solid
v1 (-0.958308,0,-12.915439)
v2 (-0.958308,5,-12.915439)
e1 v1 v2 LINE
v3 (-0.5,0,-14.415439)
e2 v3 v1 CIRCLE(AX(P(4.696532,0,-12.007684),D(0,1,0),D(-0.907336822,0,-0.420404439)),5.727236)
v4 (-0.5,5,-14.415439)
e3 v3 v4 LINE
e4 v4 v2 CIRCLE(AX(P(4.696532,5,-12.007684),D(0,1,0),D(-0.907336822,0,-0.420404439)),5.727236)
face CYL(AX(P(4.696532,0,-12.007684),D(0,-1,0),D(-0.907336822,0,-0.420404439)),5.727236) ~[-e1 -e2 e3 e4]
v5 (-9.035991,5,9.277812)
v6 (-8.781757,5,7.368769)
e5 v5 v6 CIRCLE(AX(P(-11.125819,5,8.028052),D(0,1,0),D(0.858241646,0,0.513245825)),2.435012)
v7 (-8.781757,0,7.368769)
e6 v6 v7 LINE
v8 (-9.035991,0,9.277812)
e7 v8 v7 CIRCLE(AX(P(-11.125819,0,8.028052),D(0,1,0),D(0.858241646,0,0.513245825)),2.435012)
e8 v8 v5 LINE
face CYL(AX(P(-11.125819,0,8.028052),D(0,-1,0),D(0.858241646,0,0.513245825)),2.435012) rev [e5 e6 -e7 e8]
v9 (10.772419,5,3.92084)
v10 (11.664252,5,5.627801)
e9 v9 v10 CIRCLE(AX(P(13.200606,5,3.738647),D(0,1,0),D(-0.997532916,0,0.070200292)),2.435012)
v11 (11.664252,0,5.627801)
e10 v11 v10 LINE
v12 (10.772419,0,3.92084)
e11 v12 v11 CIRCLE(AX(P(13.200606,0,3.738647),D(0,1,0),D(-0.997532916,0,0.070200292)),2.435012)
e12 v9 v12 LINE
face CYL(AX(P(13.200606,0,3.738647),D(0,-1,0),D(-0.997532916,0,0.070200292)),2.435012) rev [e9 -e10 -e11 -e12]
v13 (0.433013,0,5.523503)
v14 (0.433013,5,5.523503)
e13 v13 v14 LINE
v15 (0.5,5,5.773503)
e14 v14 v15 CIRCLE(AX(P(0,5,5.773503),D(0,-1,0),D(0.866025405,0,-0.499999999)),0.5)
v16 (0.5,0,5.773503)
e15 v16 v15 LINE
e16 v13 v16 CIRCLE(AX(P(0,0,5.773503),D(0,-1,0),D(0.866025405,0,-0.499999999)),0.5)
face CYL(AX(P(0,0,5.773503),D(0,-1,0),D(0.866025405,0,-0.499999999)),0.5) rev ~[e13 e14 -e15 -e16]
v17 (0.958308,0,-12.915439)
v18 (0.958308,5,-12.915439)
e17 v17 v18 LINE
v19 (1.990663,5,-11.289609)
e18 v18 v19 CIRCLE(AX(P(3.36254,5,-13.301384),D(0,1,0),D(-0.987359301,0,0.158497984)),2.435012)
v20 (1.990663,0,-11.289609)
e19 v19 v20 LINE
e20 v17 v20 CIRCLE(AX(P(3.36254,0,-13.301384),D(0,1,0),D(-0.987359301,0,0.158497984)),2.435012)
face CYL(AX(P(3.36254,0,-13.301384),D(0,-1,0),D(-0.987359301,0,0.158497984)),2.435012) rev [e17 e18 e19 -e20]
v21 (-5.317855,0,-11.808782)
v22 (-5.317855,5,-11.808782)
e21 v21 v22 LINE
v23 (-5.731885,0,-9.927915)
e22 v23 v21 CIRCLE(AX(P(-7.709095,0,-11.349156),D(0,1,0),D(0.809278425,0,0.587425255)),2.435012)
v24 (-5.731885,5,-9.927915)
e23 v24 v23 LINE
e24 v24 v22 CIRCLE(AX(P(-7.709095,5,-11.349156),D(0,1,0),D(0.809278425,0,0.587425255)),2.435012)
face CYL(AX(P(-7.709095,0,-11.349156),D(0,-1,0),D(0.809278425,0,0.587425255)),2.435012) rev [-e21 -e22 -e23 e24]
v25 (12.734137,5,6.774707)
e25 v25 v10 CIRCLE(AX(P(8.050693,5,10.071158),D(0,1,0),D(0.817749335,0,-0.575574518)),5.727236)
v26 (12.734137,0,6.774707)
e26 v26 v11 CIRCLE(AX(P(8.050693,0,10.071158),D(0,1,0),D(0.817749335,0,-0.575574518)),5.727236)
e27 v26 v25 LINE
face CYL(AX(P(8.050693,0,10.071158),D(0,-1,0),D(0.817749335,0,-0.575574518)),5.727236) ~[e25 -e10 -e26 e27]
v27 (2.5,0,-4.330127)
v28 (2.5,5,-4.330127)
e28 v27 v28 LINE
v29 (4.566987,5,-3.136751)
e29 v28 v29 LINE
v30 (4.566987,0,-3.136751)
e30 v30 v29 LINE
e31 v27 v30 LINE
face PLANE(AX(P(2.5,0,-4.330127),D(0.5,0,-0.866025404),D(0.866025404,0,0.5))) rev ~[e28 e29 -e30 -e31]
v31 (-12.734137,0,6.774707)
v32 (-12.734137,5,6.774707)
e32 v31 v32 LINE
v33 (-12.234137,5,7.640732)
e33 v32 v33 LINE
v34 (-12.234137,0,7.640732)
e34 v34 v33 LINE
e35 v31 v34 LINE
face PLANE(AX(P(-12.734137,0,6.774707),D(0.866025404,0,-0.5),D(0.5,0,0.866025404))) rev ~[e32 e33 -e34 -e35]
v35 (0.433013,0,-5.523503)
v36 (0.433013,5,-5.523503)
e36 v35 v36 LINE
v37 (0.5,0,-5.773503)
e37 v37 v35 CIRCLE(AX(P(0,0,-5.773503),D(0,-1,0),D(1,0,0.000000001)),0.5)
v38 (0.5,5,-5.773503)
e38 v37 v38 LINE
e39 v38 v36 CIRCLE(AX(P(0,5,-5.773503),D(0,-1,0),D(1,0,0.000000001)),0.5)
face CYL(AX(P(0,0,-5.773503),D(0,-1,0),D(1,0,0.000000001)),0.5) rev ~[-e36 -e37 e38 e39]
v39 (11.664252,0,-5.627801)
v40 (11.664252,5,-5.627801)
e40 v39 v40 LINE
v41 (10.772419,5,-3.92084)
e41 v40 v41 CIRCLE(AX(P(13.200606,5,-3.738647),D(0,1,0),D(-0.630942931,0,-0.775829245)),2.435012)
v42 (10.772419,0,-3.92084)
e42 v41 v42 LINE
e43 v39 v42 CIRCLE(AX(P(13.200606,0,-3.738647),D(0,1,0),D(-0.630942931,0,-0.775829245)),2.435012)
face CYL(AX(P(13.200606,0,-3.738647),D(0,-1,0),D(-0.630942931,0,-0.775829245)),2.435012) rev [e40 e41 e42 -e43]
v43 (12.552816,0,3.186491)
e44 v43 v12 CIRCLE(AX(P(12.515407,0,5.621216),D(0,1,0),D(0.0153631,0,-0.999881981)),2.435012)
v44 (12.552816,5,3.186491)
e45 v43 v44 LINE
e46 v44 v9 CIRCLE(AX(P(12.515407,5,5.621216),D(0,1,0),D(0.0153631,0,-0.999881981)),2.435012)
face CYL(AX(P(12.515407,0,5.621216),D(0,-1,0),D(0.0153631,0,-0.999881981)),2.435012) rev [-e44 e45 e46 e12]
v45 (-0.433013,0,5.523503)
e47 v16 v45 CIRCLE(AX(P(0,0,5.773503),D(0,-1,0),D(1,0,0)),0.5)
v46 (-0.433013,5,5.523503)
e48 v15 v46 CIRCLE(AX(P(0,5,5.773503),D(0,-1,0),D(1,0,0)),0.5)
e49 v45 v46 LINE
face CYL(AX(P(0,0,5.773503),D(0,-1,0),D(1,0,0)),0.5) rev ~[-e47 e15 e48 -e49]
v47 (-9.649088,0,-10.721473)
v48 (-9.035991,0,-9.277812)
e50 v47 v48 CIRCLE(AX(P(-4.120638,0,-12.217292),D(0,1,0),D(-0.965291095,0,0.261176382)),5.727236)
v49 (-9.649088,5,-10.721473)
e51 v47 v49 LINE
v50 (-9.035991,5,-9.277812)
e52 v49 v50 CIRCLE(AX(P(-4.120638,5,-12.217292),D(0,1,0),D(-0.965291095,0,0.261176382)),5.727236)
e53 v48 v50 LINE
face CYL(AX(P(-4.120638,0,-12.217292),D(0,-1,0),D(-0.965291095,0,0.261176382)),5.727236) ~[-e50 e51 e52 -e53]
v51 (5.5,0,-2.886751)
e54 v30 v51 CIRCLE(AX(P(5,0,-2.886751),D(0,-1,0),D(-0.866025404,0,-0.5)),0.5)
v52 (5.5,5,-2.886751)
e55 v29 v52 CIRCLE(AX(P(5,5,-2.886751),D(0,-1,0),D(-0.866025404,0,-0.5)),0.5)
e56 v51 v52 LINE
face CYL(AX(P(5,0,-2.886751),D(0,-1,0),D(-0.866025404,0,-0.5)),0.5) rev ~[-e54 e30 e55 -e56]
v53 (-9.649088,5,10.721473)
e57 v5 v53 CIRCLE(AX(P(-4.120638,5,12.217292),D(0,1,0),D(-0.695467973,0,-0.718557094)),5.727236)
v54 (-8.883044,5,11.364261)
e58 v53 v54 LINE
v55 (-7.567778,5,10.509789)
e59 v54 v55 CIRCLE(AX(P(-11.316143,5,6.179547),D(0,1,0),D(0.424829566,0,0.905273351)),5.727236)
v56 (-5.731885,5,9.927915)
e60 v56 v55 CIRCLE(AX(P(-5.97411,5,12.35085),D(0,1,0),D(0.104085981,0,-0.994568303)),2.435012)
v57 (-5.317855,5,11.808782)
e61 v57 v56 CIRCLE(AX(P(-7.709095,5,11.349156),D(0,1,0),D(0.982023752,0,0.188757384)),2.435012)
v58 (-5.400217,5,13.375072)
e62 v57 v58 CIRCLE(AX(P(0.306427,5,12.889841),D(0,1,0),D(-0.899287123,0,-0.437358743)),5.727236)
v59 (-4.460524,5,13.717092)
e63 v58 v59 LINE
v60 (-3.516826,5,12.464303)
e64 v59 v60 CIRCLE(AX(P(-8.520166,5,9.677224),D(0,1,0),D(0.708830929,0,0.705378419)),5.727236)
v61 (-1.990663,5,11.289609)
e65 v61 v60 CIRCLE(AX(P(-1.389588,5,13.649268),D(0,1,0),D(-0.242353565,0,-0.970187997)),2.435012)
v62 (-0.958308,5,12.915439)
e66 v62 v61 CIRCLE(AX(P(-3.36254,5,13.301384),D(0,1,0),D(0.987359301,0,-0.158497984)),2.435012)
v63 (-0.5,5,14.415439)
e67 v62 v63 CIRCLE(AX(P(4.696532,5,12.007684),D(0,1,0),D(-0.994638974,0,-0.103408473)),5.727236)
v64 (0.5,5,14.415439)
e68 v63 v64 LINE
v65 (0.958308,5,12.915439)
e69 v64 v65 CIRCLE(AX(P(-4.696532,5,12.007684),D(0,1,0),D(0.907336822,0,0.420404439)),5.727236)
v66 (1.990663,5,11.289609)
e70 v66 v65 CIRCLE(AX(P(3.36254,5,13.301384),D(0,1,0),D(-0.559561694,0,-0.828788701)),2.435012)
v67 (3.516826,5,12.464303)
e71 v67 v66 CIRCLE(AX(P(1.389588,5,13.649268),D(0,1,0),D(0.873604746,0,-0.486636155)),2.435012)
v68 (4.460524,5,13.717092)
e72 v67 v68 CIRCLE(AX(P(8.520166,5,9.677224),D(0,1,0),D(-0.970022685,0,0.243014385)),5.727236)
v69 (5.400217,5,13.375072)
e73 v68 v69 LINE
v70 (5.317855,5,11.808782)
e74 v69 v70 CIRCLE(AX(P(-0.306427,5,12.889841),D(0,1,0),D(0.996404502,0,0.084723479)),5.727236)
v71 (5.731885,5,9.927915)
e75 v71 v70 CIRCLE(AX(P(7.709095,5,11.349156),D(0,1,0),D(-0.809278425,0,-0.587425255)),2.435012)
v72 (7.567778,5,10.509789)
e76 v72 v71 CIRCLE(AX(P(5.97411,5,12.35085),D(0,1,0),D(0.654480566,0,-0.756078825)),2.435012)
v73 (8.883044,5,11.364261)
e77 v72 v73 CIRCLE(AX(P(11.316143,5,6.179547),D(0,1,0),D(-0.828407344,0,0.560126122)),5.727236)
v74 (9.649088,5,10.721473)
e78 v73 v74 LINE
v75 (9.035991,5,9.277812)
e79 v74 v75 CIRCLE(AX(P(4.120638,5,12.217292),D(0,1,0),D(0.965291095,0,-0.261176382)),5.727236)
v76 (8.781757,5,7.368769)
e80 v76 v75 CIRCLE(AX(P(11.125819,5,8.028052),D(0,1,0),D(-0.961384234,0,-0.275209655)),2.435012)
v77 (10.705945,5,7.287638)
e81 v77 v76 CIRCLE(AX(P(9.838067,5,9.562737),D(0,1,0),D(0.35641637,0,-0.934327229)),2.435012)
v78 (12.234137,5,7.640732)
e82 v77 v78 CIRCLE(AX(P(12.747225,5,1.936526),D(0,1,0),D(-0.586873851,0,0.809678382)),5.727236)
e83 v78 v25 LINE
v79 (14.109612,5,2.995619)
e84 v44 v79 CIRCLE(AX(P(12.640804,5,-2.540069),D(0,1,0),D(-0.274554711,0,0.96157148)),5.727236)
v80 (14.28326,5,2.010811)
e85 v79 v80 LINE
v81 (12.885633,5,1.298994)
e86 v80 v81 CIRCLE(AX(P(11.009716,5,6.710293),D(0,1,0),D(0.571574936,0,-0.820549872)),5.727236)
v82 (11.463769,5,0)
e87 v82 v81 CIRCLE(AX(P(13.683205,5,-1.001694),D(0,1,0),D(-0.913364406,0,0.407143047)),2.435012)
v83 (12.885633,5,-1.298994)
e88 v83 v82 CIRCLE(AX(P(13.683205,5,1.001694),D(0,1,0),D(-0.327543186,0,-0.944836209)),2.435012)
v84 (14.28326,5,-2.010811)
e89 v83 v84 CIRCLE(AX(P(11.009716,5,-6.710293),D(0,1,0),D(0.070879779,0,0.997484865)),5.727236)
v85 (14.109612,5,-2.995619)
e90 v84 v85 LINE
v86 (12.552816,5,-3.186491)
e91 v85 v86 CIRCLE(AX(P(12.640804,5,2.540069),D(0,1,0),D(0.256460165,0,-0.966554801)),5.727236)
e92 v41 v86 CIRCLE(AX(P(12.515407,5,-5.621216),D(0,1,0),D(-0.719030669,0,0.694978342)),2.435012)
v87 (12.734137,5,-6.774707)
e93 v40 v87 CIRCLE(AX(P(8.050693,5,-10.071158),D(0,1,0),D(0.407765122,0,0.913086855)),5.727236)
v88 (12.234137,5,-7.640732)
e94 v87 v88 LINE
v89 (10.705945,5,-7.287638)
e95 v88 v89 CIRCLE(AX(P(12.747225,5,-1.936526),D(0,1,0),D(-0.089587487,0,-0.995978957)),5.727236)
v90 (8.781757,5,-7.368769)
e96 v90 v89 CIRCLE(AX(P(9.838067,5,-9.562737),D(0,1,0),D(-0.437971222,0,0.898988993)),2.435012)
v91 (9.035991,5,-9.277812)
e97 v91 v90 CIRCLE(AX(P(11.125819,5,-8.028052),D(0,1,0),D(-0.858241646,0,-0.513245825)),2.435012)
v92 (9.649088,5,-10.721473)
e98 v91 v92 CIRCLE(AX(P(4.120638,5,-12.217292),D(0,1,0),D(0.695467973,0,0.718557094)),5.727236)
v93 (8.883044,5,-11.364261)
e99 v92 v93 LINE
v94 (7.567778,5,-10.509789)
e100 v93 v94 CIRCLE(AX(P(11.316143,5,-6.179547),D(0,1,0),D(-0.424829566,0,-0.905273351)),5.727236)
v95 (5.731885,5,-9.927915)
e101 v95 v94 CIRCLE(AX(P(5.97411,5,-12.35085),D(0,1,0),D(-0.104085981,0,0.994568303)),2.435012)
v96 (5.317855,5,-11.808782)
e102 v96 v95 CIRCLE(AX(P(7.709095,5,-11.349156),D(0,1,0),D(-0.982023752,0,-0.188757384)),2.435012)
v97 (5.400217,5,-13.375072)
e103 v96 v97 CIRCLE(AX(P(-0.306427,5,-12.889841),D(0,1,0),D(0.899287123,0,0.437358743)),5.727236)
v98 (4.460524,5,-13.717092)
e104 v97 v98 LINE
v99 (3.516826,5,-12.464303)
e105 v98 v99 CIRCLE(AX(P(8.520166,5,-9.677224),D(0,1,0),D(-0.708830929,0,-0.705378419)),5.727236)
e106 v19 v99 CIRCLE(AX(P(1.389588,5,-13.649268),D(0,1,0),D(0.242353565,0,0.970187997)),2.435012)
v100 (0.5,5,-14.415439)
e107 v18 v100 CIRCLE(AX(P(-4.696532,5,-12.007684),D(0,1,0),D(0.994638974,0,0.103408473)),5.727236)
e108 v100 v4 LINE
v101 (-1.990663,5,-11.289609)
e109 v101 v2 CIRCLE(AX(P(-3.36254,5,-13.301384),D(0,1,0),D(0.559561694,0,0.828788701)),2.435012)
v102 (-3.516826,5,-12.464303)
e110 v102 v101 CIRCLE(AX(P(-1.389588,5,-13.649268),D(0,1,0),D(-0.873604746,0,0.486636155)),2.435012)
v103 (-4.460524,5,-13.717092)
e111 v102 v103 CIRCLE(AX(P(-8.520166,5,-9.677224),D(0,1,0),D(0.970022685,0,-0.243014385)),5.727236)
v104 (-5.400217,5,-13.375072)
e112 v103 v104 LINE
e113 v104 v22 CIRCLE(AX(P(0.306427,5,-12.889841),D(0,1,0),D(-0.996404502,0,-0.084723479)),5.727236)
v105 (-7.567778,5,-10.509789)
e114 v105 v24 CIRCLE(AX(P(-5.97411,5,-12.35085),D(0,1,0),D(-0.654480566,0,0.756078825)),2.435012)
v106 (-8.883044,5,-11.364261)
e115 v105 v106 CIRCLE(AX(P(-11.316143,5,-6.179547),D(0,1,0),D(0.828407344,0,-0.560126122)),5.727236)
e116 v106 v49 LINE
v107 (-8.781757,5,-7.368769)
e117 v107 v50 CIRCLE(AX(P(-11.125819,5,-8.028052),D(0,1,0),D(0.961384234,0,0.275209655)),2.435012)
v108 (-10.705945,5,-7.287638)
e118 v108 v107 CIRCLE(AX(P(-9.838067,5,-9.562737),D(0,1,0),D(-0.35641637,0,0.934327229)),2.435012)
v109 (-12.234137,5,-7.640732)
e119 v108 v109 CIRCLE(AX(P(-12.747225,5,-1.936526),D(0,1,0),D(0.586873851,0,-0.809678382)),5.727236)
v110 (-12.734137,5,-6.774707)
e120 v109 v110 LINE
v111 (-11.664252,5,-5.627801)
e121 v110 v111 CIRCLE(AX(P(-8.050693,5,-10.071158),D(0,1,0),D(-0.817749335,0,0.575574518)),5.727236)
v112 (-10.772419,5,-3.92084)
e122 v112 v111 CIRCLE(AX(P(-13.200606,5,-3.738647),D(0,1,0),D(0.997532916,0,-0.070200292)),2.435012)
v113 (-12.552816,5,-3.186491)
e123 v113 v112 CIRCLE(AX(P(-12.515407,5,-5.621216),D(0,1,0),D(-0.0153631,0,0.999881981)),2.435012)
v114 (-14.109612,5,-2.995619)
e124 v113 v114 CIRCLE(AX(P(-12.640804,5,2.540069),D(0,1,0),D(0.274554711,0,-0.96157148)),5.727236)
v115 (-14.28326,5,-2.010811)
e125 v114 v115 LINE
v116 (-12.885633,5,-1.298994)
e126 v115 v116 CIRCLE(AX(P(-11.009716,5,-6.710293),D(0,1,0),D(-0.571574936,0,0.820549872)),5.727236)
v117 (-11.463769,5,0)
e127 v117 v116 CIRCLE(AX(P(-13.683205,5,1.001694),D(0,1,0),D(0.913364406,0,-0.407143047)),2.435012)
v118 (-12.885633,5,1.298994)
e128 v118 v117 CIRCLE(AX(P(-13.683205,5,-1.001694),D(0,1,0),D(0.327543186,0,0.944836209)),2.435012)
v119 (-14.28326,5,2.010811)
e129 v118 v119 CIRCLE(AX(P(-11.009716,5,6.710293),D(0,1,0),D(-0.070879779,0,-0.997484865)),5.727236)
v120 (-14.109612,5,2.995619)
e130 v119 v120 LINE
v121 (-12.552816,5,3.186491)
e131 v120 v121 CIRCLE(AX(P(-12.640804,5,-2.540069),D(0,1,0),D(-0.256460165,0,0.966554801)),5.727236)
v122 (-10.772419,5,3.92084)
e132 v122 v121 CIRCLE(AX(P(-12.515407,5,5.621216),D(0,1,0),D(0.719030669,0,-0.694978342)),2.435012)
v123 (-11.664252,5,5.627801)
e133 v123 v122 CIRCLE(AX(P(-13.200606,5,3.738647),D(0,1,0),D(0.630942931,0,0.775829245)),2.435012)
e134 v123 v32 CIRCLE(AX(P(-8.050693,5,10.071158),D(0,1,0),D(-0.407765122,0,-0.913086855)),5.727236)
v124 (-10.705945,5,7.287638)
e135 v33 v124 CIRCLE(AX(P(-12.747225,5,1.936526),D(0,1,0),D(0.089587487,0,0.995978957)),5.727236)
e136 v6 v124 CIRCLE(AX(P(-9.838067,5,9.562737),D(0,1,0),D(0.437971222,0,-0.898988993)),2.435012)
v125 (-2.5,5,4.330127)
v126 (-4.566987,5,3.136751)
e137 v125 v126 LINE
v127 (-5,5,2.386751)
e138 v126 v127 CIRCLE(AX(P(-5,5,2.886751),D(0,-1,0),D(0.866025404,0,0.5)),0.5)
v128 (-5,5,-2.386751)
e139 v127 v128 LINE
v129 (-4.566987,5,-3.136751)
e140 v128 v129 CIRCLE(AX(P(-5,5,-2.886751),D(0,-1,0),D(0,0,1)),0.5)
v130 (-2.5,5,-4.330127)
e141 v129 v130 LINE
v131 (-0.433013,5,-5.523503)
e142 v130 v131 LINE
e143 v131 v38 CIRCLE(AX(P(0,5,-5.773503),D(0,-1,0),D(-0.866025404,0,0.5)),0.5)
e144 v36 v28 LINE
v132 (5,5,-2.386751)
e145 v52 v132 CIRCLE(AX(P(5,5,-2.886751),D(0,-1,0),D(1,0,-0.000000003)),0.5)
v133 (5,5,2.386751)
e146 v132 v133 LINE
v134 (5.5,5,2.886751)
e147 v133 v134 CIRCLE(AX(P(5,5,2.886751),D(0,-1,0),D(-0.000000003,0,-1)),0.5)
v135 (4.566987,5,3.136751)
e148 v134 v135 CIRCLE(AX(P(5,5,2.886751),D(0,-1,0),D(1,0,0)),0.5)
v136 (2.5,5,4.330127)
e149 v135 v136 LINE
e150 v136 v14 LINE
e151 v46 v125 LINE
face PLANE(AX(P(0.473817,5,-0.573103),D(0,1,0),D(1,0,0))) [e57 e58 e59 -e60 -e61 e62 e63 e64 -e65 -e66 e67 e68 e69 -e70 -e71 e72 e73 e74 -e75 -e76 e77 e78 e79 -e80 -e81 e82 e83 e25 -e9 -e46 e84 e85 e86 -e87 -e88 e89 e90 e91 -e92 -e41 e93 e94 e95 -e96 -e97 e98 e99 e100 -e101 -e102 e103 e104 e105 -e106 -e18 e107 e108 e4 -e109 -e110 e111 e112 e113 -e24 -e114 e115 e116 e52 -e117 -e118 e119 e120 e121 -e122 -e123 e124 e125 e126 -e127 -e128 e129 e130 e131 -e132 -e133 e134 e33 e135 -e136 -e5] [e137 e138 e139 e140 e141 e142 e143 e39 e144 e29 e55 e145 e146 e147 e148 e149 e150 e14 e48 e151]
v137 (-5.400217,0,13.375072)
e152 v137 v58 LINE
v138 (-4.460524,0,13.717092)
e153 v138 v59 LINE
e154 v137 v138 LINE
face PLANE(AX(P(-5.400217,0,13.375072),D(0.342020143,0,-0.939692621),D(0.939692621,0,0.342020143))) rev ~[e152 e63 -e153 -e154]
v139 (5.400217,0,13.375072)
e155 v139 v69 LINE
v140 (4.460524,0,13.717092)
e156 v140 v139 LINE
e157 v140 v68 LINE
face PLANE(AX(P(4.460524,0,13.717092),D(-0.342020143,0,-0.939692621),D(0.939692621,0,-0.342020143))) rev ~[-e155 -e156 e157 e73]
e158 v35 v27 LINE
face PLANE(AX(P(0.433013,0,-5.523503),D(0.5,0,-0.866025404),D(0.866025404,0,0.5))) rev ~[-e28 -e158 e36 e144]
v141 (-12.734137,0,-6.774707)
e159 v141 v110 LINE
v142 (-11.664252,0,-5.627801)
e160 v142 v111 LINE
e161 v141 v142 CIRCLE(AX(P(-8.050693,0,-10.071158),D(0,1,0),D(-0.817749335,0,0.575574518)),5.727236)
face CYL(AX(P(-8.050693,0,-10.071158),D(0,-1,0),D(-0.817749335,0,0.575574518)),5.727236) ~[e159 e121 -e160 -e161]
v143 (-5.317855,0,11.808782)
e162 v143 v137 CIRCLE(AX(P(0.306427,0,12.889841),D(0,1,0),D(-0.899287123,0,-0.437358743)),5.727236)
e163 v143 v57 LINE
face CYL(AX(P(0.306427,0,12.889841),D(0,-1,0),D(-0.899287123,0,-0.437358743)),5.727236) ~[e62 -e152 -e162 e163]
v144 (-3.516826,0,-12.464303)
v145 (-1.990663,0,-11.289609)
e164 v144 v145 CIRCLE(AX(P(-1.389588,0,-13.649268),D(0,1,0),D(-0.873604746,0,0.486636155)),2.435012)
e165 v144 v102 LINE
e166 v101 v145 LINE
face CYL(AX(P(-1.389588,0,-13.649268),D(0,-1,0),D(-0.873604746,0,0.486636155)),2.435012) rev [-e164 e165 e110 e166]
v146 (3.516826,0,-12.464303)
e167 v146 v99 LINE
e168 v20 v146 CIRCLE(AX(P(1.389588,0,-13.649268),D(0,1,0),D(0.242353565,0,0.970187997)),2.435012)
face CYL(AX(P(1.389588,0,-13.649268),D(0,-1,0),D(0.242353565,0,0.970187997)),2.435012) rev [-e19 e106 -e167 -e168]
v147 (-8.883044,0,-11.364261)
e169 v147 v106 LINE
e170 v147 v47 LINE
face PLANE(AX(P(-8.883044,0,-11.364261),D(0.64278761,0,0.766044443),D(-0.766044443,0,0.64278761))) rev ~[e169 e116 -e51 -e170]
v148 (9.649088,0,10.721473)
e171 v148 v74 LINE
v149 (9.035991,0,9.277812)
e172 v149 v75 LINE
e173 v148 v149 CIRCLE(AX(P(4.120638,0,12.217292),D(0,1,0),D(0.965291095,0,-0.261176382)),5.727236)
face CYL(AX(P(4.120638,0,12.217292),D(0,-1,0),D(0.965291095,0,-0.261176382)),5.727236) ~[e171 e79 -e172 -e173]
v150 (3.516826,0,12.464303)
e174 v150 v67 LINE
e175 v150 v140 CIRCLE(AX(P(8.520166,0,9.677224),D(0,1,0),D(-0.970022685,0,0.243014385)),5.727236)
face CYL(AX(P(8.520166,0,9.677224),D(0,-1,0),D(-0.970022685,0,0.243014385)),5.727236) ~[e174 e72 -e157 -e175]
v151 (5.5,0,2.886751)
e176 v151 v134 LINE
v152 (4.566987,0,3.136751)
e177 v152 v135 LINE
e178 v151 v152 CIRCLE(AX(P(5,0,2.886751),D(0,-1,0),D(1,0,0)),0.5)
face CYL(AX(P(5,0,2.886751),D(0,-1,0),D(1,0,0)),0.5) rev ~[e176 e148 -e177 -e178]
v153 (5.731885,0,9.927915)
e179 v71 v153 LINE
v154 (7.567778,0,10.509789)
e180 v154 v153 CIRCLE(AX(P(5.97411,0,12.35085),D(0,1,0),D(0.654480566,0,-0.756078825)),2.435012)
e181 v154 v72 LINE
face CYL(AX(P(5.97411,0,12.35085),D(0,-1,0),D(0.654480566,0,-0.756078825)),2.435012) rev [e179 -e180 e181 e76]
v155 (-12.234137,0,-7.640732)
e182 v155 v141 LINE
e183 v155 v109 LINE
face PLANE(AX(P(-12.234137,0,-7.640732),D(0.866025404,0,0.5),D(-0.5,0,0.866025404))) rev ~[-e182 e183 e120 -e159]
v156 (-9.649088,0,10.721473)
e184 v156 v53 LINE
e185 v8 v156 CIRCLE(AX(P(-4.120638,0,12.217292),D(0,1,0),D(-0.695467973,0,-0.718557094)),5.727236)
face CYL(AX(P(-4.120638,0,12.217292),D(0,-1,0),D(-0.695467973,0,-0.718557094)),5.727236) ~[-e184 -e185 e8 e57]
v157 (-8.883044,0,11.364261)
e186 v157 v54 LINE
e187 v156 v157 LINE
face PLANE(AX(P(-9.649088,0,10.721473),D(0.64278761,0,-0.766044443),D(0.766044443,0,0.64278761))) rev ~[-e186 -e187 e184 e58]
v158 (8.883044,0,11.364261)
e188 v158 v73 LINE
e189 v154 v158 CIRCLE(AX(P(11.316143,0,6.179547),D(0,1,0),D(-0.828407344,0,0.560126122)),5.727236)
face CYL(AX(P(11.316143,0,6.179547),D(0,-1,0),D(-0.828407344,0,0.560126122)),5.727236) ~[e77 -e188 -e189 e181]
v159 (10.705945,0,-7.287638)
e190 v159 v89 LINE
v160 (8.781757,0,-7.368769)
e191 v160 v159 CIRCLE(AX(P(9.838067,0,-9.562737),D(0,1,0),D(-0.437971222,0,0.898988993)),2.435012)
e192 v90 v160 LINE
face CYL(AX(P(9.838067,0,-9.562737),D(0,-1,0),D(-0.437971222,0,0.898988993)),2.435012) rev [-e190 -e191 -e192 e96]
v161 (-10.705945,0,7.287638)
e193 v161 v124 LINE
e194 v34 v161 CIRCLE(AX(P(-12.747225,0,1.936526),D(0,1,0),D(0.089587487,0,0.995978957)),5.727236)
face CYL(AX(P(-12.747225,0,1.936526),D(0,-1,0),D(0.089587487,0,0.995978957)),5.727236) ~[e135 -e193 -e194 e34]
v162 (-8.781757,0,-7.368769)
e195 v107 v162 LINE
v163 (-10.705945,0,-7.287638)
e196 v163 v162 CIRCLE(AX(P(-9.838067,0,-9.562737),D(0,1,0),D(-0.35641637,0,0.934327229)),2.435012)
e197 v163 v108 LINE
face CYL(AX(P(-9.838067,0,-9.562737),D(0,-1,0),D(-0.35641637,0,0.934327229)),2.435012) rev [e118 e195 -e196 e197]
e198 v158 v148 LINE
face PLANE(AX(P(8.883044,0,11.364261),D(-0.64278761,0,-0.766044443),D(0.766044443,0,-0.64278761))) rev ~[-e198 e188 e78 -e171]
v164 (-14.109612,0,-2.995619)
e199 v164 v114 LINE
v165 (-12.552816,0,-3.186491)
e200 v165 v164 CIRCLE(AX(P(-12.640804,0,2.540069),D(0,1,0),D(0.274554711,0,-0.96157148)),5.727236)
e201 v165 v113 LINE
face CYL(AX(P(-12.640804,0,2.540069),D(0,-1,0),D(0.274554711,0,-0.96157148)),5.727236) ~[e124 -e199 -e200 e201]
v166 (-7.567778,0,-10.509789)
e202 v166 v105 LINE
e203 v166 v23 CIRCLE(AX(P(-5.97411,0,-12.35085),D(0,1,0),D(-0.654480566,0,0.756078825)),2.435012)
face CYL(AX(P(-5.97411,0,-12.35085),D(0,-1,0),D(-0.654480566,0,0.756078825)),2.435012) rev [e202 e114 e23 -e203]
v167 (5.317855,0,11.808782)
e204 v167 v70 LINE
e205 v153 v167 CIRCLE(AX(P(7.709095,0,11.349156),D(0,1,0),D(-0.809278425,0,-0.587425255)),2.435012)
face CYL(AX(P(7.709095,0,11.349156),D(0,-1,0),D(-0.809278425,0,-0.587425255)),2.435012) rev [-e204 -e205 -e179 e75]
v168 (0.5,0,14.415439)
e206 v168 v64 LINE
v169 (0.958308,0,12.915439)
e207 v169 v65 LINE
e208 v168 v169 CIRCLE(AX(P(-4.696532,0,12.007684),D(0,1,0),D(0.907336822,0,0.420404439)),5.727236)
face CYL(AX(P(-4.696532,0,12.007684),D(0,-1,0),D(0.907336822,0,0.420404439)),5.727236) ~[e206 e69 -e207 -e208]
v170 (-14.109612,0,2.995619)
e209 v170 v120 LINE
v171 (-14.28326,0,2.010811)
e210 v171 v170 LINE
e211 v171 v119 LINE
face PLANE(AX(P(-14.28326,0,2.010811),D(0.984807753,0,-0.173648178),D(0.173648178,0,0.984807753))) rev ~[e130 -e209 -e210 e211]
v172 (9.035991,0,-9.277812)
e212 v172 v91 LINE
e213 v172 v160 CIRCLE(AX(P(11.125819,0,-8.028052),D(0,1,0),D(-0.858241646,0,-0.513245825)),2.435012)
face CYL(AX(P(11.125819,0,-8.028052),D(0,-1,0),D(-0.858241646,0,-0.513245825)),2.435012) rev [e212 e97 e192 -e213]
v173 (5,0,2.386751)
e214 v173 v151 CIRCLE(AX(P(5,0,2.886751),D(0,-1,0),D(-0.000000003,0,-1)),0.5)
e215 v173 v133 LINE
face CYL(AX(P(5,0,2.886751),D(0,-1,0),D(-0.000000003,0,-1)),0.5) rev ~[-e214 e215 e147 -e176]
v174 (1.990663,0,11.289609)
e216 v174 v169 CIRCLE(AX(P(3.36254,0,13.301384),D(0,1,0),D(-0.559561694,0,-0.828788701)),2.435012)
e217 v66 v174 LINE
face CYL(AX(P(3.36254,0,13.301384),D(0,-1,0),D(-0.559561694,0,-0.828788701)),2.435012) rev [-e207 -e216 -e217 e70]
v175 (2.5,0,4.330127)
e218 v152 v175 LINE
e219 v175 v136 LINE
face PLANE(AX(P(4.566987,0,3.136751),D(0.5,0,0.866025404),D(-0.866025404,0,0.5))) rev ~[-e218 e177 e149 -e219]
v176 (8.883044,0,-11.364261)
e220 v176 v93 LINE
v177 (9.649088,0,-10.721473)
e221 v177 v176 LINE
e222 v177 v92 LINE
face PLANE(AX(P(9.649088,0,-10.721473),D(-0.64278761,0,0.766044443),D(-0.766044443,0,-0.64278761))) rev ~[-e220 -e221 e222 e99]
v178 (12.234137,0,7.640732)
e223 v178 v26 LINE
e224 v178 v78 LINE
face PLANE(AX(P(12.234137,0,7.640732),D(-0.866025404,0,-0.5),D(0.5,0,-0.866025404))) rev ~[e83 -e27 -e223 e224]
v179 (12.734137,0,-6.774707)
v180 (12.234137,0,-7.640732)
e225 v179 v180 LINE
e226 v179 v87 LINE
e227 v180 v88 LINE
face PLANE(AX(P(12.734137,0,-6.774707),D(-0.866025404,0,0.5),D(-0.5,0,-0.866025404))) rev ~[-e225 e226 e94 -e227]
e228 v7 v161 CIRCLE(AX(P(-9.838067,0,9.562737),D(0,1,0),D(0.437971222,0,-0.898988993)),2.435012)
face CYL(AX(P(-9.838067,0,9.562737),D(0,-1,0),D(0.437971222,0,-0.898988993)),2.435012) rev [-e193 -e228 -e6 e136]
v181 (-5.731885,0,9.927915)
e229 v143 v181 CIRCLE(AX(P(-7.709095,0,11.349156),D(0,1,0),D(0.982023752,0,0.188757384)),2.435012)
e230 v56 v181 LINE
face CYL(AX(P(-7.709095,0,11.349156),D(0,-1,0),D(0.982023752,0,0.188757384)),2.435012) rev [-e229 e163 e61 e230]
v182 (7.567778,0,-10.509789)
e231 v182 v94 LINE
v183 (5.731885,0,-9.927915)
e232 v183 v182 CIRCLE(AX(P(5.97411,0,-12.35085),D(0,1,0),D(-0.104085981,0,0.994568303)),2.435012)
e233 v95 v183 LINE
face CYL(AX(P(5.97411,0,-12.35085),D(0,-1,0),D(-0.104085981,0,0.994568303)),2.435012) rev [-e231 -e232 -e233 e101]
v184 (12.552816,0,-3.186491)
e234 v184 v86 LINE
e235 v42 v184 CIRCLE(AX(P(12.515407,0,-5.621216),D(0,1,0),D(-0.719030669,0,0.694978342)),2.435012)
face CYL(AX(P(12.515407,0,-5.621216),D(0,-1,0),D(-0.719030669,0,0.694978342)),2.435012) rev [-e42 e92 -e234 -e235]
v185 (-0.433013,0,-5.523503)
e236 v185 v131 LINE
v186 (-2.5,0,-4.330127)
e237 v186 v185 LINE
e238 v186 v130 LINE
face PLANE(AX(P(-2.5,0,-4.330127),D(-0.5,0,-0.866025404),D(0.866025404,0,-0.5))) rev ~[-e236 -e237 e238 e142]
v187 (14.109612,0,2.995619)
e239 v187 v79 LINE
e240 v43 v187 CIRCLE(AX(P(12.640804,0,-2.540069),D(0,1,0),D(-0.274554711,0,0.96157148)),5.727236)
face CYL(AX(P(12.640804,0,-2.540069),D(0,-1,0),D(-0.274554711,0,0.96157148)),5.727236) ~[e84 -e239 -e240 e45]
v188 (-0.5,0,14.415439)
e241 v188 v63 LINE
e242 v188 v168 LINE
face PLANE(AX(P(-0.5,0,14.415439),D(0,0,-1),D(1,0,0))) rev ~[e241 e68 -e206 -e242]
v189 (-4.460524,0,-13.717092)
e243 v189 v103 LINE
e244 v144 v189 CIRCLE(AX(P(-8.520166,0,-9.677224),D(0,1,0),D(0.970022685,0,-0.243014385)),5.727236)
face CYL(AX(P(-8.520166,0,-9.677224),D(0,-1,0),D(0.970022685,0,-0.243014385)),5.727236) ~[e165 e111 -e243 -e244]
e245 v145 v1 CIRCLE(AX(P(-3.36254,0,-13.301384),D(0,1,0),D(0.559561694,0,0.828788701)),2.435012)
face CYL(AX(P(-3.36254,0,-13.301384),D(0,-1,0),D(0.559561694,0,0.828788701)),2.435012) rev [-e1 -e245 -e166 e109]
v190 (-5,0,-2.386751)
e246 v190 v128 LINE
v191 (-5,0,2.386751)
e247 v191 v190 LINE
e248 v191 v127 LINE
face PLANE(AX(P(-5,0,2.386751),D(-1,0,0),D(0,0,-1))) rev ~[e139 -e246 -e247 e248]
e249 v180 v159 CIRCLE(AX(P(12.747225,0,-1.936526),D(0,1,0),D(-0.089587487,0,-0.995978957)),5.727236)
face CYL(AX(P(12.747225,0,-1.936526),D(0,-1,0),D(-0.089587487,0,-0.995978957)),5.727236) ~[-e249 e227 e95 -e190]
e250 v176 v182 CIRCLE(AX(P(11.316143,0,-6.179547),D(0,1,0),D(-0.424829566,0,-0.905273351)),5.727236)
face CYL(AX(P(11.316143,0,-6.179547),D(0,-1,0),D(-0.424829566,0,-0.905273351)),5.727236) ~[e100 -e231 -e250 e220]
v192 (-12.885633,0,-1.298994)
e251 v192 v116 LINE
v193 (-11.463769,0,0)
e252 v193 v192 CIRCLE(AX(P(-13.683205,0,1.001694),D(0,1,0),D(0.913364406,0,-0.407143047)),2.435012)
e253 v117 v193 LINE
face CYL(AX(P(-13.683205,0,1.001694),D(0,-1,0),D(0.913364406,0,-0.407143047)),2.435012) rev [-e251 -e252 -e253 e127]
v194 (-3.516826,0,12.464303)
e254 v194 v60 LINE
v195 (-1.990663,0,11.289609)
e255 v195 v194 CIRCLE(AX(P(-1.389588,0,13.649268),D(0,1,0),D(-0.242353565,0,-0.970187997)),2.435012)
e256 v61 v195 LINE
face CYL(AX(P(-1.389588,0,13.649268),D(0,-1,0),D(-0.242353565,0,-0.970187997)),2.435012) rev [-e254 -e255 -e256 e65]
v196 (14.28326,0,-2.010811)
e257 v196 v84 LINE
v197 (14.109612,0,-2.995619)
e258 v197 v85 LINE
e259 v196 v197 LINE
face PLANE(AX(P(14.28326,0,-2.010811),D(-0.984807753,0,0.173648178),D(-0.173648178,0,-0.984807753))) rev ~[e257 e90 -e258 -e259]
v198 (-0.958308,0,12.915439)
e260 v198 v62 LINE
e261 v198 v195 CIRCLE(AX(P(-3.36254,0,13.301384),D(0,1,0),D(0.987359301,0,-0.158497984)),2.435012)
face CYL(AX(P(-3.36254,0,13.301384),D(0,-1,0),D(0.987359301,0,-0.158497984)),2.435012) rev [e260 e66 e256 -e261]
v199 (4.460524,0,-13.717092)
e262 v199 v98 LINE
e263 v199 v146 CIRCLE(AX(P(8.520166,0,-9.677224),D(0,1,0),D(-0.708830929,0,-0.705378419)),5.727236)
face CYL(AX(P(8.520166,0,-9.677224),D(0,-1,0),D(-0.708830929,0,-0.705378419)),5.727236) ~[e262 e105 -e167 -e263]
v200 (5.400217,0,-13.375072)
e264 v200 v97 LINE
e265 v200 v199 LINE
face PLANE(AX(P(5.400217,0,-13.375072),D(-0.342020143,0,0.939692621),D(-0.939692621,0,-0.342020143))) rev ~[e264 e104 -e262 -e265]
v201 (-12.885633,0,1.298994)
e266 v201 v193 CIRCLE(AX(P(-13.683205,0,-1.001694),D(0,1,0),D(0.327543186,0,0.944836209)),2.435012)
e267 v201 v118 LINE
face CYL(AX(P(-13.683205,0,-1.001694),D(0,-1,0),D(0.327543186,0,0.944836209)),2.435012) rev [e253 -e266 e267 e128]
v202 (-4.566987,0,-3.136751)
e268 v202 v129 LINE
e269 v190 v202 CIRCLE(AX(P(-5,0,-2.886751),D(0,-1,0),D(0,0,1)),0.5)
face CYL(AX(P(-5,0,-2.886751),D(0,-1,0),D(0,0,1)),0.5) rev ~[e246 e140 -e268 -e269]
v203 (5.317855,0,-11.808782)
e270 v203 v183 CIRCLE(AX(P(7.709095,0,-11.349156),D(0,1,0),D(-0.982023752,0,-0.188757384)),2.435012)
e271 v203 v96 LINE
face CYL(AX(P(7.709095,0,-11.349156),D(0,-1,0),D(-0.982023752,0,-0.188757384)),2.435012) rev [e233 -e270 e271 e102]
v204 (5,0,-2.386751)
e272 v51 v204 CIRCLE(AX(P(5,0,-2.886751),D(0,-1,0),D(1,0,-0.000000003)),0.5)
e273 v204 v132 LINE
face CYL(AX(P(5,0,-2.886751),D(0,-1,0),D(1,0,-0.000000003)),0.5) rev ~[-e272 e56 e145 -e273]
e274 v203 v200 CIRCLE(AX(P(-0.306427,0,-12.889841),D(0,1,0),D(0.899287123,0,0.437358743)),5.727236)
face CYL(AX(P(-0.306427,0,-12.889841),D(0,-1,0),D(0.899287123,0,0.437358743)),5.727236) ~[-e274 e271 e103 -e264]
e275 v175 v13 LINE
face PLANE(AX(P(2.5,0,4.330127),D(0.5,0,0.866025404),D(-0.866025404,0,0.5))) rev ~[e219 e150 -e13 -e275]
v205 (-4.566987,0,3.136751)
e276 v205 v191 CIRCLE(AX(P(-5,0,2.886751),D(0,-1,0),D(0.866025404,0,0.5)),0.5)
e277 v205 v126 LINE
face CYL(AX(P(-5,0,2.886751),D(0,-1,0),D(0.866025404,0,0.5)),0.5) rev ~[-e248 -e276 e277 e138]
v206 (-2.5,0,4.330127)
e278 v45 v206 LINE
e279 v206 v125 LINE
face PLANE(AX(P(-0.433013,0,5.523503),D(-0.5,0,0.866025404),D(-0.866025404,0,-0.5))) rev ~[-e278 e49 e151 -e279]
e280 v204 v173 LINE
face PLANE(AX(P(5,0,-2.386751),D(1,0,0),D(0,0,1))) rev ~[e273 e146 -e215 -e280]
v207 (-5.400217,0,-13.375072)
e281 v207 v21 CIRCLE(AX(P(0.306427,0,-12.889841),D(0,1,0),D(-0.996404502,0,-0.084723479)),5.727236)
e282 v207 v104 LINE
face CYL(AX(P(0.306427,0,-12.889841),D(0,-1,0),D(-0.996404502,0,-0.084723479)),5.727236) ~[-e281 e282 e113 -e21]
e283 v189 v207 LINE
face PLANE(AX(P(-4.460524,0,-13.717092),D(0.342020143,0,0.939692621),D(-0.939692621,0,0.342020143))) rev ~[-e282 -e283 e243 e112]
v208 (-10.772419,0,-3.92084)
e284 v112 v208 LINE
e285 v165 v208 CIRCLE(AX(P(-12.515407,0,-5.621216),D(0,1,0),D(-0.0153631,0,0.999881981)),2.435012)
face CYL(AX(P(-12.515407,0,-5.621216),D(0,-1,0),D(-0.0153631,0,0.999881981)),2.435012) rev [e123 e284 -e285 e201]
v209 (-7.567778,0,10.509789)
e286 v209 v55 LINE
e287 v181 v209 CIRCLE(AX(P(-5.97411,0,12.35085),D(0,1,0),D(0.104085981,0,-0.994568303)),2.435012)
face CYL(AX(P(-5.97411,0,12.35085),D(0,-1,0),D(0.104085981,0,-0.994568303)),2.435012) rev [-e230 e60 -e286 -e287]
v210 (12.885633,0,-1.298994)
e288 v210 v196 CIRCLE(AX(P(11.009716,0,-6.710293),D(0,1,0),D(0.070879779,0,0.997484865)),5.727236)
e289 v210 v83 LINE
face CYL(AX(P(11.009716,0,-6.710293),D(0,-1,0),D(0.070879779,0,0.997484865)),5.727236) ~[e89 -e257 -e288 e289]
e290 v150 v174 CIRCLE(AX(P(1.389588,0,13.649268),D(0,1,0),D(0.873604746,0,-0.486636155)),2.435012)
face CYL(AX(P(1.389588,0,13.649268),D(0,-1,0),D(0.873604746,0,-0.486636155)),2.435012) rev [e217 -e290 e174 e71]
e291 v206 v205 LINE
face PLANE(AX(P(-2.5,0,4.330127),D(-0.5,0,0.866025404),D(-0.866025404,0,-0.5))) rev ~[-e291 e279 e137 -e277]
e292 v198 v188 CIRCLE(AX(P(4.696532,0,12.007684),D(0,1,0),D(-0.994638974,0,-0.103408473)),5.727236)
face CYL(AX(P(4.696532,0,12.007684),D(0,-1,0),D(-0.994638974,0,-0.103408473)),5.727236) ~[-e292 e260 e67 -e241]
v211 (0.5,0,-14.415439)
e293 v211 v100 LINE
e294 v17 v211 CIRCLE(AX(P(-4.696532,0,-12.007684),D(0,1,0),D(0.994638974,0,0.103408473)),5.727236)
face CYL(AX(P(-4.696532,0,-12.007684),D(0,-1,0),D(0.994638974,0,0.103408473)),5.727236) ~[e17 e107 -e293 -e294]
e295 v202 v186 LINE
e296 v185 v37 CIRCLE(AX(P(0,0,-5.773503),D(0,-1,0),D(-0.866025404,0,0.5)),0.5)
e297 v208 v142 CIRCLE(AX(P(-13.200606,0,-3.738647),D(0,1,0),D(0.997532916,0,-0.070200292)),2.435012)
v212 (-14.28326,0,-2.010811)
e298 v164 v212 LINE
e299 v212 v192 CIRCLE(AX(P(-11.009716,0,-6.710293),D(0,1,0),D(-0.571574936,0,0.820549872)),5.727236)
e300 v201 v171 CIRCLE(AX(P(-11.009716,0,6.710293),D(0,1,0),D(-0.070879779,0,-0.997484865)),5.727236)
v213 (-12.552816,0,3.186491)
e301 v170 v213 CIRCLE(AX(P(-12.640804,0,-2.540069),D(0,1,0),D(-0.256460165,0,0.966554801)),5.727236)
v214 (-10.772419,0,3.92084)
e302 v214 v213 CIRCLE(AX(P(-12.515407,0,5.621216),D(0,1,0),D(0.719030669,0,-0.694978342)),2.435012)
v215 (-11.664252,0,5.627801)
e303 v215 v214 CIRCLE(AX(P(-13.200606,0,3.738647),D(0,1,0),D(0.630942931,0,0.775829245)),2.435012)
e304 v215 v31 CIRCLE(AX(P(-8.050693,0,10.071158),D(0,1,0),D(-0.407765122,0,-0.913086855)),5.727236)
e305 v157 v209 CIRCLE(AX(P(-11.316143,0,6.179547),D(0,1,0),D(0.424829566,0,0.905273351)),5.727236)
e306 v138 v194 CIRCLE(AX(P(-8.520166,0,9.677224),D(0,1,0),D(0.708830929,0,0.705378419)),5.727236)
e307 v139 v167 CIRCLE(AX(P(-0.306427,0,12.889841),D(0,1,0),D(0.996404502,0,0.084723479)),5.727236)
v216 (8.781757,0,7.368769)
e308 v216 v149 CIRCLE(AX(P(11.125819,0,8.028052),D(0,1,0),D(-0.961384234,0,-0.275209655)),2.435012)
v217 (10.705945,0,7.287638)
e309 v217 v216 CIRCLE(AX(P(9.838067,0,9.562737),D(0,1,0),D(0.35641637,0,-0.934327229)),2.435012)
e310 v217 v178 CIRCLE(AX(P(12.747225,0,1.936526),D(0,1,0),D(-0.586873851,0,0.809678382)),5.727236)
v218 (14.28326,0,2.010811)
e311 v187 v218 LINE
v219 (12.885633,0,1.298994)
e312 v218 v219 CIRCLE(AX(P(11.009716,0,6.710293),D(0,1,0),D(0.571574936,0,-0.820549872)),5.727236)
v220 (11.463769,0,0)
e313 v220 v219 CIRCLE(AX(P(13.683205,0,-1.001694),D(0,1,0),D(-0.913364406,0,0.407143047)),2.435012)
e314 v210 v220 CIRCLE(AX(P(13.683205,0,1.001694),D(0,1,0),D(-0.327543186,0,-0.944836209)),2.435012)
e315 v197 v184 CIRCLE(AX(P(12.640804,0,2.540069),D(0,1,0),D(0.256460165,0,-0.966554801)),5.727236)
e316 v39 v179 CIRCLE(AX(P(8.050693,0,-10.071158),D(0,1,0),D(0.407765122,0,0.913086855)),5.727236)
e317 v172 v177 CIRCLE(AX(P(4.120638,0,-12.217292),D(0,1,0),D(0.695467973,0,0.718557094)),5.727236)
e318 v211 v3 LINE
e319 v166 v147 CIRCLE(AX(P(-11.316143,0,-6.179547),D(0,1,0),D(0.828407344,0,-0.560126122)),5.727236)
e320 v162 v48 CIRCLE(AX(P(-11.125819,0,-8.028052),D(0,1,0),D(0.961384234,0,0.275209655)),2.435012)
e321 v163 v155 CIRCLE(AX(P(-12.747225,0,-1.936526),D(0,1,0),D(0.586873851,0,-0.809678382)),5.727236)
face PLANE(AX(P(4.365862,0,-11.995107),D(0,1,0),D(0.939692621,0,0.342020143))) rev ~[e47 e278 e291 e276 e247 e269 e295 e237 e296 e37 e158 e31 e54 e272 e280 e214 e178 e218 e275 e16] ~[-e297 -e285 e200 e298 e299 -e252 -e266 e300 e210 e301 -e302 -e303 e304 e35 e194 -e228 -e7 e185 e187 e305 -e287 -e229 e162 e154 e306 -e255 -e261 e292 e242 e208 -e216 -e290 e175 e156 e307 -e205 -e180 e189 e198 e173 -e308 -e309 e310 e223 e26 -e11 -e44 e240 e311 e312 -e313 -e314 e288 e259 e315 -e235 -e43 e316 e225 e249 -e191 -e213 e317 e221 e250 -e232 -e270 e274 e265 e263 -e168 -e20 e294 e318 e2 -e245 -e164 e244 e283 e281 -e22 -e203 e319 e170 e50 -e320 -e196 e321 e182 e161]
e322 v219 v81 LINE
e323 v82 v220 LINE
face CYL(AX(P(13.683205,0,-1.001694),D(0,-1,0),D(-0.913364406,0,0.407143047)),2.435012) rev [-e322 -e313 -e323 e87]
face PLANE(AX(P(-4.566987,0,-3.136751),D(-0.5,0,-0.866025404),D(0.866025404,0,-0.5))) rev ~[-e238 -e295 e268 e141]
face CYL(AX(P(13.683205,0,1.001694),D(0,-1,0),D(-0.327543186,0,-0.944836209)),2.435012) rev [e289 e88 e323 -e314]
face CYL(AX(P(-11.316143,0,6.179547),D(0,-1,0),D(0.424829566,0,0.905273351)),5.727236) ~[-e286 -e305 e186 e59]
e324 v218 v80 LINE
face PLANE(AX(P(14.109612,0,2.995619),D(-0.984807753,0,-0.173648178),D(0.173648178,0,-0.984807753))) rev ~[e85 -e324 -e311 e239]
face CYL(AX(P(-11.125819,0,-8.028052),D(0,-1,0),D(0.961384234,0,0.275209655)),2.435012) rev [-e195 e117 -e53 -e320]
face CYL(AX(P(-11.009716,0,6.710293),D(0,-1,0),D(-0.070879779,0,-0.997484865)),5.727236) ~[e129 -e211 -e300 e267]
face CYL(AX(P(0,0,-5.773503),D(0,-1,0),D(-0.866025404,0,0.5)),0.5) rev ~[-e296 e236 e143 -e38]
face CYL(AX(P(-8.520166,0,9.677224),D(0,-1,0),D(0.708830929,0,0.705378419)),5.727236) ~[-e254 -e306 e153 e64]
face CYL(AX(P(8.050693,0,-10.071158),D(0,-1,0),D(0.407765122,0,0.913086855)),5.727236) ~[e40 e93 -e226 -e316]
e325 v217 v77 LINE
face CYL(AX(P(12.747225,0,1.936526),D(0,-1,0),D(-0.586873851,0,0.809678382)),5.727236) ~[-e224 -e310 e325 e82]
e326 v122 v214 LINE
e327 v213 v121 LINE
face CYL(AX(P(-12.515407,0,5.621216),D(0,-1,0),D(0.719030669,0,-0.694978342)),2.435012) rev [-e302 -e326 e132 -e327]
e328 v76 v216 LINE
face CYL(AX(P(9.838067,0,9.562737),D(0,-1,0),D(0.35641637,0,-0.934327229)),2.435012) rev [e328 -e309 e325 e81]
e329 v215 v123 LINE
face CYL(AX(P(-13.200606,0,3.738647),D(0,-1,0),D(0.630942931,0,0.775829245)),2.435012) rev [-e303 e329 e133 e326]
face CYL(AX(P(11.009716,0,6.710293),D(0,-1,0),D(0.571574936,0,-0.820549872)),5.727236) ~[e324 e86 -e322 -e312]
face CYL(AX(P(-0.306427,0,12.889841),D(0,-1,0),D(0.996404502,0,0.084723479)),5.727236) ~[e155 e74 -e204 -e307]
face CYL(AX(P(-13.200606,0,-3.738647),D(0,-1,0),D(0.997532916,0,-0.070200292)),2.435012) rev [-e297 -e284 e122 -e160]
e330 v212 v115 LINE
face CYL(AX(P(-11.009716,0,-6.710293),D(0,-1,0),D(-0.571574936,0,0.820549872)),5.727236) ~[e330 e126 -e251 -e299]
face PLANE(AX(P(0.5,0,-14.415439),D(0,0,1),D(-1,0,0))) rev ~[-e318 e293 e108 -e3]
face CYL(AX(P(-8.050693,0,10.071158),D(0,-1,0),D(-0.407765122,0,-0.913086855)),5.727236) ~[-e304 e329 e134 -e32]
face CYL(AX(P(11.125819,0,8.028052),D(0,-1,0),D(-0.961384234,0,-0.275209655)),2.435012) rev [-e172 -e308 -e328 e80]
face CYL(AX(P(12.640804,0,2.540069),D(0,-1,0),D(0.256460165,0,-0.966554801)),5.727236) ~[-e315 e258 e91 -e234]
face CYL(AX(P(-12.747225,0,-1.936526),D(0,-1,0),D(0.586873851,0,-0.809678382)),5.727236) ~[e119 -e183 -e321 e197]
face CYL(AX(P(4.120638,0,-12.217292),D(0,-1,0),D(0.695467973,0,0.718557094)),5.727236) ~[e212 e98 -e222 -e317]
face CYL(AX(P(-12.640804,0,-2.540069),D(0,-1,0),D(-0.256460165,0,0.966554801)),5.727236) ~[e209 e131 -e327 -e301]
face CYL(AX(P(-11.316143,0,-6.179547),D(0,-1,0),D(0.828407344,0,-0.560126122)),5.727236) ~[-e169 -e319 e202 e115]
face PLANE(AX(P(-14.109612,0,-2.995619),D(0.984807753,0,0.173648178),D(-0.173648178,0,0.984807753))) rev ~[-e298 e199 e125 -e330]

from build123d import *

# Parameters (mm, degrees)
BOSS_EXTRUDE1_DEPTH = 5
CIRPATTERN2_COUNT   = 18
BOSS_EXTRUDE3_DEPTH = 5


with BuildPart() as part:
    # Sketch1 → Boss-Extrude1 (new body)
    with BuildSketch(Plane(origin=(0, 0, 0), x_dir=(1, 0, 0), z_dir=(0, 1, 0))):
        with BuildLine():
            Line((0.5, 14.415439282), (-0.5, 14.415439282))
            ThreePointArc((-0.5, 14.415439282), (-0.952778657, 12.949235725), (-1, 11.415439282))
            Line((-1, 11.415439282), (1, 11.415439282))
            ThreePointArc((1, 11.415439282), (0.952778657, 12.949235725), (0.5, 14.415439282))
        make_face()
        with BuildLine():
            Line((0, 12.915439282), (0.9583076, 12.915439282))
            ThreePointArc((0.9583076, 12.915439282), (1.309947673, 11.991364327), (2, 11.283273195))
            Line((2, 11.283273195), (-2, 11.283273195))
            ThreePointArc((-2, 11.283273195), (-1.309947673, 11.991364327), (-0.9583076, 12.915439282))
            Line((-0.9583076, 12.915439282), (0, 12.915439282))
        make_face()
    boss_extrude1 = extrude(amount=BOSS_EXTRUDE1_DEPTH)

    # CirPattern2: Boss-Extrude1 ×18 about axis
    cirpattern2_axis = Axis((0, 0, 0), (0, 1, 0))
    for i in range(1, CIRPATTERN2_COUNT):
        add(boss_extrude1.rotate(cirpattern2_axis, i * 360 / CIRPATTERN2_COUNT))

    # Sketch1<5> → Boss-Extrude3 (add)
    with BuildSketch(Plane(origin=(0, 0, 0), x_dir=(1, 0, 0), z_dir=(0, 1, 0))):
        with BuildLine():
            ThreePointArc((11.459155903, 0), (8.781530784, 7.361859215), (2, 11.283273195))
            Line((2, 11.283273195), (-2, 11.283273195))
            ThreePointArc((-2, 11.283273195), (-7.361859215, -8.781530784), (11.459155903, 0))
        make_face()
        with BuildLine():
            Line((-0.433012702, -5.523502692), (-2.500000064, -4.330126982))
            Line((-2.500000064, -4.330126982), (-4.566987298, -3.136751346))
            ThreePointArc((-4.566987298, -3.136751346), (-5.433012702, -3.136751346), (-5, -2.386751346))
            Line((-5, -2.386751346), (-5, -2e-09))
            Line((-5, -2e-09), (-5, 2.386751346))
            ThreePointArc((-5, 2.386751346), (-5.433012702, 3.136751346), (-4.566987298, 3.136751346))
            Line((-4.566987298, 3.136751346), (-2.499999953, 4.330127046))
            Line((-2.499999953, 4.330127046), (-0.433012702, 5.523502692))
            ThreePointArc((-0.433012702, 5.523502692), (-0.129409523, 6.256465605), (0.5, 5.773502692))
            ThreePointArc((0.5, 5.773502692), (0.482962913, 5.644093169), (0.433012702, 5.523502692))
            Line((0.433012702, 5.523502692), (2.500000011, 4.330127013))
            Line((2.500000011, 4.330127013), (4.566987298, 3.136751346))
            ThreePointArc((4.566987298, 3.136751346), (5.129409523, 3.369714259), (5.5, 2.886751346))
            ThreePointArc((5.5, 2.886751346), (5.353553391, 2.533197955), (5, 2.386751346))
            Line((5, 2.386751346), (5, 0))
            Line((5, 0), (5, -2.386751346))
            ThreePointArc((5, -2.386751346), (5.353553391, -2.533197955), (5.5, -2.886751346))
            ThreePointArc((5.5, -2.886751346), (5.129409523, -3.369714259), (4.566987298, -3.136751346))
            Line((4.566987298, -3.136751346), (2.499999978, -4.330127032))
            Line((2.499999978, -4.330127032), (0.433012702, -5.523502692))
            ThreePointArc((0.433012702, -5.523502692), (0.482962913, -5.644093169), (0.5, -5.773502692))
            ThreePointArc((0.5, -5.773502692), (-0.129409523, -6.256465605), (-0.433012702, -5.523502692))
        make_face(mode=Mode.SUBTRACT)
    extrude(amount=BOSS_EXTRUDE3_DEPTH)


solid = part.part
